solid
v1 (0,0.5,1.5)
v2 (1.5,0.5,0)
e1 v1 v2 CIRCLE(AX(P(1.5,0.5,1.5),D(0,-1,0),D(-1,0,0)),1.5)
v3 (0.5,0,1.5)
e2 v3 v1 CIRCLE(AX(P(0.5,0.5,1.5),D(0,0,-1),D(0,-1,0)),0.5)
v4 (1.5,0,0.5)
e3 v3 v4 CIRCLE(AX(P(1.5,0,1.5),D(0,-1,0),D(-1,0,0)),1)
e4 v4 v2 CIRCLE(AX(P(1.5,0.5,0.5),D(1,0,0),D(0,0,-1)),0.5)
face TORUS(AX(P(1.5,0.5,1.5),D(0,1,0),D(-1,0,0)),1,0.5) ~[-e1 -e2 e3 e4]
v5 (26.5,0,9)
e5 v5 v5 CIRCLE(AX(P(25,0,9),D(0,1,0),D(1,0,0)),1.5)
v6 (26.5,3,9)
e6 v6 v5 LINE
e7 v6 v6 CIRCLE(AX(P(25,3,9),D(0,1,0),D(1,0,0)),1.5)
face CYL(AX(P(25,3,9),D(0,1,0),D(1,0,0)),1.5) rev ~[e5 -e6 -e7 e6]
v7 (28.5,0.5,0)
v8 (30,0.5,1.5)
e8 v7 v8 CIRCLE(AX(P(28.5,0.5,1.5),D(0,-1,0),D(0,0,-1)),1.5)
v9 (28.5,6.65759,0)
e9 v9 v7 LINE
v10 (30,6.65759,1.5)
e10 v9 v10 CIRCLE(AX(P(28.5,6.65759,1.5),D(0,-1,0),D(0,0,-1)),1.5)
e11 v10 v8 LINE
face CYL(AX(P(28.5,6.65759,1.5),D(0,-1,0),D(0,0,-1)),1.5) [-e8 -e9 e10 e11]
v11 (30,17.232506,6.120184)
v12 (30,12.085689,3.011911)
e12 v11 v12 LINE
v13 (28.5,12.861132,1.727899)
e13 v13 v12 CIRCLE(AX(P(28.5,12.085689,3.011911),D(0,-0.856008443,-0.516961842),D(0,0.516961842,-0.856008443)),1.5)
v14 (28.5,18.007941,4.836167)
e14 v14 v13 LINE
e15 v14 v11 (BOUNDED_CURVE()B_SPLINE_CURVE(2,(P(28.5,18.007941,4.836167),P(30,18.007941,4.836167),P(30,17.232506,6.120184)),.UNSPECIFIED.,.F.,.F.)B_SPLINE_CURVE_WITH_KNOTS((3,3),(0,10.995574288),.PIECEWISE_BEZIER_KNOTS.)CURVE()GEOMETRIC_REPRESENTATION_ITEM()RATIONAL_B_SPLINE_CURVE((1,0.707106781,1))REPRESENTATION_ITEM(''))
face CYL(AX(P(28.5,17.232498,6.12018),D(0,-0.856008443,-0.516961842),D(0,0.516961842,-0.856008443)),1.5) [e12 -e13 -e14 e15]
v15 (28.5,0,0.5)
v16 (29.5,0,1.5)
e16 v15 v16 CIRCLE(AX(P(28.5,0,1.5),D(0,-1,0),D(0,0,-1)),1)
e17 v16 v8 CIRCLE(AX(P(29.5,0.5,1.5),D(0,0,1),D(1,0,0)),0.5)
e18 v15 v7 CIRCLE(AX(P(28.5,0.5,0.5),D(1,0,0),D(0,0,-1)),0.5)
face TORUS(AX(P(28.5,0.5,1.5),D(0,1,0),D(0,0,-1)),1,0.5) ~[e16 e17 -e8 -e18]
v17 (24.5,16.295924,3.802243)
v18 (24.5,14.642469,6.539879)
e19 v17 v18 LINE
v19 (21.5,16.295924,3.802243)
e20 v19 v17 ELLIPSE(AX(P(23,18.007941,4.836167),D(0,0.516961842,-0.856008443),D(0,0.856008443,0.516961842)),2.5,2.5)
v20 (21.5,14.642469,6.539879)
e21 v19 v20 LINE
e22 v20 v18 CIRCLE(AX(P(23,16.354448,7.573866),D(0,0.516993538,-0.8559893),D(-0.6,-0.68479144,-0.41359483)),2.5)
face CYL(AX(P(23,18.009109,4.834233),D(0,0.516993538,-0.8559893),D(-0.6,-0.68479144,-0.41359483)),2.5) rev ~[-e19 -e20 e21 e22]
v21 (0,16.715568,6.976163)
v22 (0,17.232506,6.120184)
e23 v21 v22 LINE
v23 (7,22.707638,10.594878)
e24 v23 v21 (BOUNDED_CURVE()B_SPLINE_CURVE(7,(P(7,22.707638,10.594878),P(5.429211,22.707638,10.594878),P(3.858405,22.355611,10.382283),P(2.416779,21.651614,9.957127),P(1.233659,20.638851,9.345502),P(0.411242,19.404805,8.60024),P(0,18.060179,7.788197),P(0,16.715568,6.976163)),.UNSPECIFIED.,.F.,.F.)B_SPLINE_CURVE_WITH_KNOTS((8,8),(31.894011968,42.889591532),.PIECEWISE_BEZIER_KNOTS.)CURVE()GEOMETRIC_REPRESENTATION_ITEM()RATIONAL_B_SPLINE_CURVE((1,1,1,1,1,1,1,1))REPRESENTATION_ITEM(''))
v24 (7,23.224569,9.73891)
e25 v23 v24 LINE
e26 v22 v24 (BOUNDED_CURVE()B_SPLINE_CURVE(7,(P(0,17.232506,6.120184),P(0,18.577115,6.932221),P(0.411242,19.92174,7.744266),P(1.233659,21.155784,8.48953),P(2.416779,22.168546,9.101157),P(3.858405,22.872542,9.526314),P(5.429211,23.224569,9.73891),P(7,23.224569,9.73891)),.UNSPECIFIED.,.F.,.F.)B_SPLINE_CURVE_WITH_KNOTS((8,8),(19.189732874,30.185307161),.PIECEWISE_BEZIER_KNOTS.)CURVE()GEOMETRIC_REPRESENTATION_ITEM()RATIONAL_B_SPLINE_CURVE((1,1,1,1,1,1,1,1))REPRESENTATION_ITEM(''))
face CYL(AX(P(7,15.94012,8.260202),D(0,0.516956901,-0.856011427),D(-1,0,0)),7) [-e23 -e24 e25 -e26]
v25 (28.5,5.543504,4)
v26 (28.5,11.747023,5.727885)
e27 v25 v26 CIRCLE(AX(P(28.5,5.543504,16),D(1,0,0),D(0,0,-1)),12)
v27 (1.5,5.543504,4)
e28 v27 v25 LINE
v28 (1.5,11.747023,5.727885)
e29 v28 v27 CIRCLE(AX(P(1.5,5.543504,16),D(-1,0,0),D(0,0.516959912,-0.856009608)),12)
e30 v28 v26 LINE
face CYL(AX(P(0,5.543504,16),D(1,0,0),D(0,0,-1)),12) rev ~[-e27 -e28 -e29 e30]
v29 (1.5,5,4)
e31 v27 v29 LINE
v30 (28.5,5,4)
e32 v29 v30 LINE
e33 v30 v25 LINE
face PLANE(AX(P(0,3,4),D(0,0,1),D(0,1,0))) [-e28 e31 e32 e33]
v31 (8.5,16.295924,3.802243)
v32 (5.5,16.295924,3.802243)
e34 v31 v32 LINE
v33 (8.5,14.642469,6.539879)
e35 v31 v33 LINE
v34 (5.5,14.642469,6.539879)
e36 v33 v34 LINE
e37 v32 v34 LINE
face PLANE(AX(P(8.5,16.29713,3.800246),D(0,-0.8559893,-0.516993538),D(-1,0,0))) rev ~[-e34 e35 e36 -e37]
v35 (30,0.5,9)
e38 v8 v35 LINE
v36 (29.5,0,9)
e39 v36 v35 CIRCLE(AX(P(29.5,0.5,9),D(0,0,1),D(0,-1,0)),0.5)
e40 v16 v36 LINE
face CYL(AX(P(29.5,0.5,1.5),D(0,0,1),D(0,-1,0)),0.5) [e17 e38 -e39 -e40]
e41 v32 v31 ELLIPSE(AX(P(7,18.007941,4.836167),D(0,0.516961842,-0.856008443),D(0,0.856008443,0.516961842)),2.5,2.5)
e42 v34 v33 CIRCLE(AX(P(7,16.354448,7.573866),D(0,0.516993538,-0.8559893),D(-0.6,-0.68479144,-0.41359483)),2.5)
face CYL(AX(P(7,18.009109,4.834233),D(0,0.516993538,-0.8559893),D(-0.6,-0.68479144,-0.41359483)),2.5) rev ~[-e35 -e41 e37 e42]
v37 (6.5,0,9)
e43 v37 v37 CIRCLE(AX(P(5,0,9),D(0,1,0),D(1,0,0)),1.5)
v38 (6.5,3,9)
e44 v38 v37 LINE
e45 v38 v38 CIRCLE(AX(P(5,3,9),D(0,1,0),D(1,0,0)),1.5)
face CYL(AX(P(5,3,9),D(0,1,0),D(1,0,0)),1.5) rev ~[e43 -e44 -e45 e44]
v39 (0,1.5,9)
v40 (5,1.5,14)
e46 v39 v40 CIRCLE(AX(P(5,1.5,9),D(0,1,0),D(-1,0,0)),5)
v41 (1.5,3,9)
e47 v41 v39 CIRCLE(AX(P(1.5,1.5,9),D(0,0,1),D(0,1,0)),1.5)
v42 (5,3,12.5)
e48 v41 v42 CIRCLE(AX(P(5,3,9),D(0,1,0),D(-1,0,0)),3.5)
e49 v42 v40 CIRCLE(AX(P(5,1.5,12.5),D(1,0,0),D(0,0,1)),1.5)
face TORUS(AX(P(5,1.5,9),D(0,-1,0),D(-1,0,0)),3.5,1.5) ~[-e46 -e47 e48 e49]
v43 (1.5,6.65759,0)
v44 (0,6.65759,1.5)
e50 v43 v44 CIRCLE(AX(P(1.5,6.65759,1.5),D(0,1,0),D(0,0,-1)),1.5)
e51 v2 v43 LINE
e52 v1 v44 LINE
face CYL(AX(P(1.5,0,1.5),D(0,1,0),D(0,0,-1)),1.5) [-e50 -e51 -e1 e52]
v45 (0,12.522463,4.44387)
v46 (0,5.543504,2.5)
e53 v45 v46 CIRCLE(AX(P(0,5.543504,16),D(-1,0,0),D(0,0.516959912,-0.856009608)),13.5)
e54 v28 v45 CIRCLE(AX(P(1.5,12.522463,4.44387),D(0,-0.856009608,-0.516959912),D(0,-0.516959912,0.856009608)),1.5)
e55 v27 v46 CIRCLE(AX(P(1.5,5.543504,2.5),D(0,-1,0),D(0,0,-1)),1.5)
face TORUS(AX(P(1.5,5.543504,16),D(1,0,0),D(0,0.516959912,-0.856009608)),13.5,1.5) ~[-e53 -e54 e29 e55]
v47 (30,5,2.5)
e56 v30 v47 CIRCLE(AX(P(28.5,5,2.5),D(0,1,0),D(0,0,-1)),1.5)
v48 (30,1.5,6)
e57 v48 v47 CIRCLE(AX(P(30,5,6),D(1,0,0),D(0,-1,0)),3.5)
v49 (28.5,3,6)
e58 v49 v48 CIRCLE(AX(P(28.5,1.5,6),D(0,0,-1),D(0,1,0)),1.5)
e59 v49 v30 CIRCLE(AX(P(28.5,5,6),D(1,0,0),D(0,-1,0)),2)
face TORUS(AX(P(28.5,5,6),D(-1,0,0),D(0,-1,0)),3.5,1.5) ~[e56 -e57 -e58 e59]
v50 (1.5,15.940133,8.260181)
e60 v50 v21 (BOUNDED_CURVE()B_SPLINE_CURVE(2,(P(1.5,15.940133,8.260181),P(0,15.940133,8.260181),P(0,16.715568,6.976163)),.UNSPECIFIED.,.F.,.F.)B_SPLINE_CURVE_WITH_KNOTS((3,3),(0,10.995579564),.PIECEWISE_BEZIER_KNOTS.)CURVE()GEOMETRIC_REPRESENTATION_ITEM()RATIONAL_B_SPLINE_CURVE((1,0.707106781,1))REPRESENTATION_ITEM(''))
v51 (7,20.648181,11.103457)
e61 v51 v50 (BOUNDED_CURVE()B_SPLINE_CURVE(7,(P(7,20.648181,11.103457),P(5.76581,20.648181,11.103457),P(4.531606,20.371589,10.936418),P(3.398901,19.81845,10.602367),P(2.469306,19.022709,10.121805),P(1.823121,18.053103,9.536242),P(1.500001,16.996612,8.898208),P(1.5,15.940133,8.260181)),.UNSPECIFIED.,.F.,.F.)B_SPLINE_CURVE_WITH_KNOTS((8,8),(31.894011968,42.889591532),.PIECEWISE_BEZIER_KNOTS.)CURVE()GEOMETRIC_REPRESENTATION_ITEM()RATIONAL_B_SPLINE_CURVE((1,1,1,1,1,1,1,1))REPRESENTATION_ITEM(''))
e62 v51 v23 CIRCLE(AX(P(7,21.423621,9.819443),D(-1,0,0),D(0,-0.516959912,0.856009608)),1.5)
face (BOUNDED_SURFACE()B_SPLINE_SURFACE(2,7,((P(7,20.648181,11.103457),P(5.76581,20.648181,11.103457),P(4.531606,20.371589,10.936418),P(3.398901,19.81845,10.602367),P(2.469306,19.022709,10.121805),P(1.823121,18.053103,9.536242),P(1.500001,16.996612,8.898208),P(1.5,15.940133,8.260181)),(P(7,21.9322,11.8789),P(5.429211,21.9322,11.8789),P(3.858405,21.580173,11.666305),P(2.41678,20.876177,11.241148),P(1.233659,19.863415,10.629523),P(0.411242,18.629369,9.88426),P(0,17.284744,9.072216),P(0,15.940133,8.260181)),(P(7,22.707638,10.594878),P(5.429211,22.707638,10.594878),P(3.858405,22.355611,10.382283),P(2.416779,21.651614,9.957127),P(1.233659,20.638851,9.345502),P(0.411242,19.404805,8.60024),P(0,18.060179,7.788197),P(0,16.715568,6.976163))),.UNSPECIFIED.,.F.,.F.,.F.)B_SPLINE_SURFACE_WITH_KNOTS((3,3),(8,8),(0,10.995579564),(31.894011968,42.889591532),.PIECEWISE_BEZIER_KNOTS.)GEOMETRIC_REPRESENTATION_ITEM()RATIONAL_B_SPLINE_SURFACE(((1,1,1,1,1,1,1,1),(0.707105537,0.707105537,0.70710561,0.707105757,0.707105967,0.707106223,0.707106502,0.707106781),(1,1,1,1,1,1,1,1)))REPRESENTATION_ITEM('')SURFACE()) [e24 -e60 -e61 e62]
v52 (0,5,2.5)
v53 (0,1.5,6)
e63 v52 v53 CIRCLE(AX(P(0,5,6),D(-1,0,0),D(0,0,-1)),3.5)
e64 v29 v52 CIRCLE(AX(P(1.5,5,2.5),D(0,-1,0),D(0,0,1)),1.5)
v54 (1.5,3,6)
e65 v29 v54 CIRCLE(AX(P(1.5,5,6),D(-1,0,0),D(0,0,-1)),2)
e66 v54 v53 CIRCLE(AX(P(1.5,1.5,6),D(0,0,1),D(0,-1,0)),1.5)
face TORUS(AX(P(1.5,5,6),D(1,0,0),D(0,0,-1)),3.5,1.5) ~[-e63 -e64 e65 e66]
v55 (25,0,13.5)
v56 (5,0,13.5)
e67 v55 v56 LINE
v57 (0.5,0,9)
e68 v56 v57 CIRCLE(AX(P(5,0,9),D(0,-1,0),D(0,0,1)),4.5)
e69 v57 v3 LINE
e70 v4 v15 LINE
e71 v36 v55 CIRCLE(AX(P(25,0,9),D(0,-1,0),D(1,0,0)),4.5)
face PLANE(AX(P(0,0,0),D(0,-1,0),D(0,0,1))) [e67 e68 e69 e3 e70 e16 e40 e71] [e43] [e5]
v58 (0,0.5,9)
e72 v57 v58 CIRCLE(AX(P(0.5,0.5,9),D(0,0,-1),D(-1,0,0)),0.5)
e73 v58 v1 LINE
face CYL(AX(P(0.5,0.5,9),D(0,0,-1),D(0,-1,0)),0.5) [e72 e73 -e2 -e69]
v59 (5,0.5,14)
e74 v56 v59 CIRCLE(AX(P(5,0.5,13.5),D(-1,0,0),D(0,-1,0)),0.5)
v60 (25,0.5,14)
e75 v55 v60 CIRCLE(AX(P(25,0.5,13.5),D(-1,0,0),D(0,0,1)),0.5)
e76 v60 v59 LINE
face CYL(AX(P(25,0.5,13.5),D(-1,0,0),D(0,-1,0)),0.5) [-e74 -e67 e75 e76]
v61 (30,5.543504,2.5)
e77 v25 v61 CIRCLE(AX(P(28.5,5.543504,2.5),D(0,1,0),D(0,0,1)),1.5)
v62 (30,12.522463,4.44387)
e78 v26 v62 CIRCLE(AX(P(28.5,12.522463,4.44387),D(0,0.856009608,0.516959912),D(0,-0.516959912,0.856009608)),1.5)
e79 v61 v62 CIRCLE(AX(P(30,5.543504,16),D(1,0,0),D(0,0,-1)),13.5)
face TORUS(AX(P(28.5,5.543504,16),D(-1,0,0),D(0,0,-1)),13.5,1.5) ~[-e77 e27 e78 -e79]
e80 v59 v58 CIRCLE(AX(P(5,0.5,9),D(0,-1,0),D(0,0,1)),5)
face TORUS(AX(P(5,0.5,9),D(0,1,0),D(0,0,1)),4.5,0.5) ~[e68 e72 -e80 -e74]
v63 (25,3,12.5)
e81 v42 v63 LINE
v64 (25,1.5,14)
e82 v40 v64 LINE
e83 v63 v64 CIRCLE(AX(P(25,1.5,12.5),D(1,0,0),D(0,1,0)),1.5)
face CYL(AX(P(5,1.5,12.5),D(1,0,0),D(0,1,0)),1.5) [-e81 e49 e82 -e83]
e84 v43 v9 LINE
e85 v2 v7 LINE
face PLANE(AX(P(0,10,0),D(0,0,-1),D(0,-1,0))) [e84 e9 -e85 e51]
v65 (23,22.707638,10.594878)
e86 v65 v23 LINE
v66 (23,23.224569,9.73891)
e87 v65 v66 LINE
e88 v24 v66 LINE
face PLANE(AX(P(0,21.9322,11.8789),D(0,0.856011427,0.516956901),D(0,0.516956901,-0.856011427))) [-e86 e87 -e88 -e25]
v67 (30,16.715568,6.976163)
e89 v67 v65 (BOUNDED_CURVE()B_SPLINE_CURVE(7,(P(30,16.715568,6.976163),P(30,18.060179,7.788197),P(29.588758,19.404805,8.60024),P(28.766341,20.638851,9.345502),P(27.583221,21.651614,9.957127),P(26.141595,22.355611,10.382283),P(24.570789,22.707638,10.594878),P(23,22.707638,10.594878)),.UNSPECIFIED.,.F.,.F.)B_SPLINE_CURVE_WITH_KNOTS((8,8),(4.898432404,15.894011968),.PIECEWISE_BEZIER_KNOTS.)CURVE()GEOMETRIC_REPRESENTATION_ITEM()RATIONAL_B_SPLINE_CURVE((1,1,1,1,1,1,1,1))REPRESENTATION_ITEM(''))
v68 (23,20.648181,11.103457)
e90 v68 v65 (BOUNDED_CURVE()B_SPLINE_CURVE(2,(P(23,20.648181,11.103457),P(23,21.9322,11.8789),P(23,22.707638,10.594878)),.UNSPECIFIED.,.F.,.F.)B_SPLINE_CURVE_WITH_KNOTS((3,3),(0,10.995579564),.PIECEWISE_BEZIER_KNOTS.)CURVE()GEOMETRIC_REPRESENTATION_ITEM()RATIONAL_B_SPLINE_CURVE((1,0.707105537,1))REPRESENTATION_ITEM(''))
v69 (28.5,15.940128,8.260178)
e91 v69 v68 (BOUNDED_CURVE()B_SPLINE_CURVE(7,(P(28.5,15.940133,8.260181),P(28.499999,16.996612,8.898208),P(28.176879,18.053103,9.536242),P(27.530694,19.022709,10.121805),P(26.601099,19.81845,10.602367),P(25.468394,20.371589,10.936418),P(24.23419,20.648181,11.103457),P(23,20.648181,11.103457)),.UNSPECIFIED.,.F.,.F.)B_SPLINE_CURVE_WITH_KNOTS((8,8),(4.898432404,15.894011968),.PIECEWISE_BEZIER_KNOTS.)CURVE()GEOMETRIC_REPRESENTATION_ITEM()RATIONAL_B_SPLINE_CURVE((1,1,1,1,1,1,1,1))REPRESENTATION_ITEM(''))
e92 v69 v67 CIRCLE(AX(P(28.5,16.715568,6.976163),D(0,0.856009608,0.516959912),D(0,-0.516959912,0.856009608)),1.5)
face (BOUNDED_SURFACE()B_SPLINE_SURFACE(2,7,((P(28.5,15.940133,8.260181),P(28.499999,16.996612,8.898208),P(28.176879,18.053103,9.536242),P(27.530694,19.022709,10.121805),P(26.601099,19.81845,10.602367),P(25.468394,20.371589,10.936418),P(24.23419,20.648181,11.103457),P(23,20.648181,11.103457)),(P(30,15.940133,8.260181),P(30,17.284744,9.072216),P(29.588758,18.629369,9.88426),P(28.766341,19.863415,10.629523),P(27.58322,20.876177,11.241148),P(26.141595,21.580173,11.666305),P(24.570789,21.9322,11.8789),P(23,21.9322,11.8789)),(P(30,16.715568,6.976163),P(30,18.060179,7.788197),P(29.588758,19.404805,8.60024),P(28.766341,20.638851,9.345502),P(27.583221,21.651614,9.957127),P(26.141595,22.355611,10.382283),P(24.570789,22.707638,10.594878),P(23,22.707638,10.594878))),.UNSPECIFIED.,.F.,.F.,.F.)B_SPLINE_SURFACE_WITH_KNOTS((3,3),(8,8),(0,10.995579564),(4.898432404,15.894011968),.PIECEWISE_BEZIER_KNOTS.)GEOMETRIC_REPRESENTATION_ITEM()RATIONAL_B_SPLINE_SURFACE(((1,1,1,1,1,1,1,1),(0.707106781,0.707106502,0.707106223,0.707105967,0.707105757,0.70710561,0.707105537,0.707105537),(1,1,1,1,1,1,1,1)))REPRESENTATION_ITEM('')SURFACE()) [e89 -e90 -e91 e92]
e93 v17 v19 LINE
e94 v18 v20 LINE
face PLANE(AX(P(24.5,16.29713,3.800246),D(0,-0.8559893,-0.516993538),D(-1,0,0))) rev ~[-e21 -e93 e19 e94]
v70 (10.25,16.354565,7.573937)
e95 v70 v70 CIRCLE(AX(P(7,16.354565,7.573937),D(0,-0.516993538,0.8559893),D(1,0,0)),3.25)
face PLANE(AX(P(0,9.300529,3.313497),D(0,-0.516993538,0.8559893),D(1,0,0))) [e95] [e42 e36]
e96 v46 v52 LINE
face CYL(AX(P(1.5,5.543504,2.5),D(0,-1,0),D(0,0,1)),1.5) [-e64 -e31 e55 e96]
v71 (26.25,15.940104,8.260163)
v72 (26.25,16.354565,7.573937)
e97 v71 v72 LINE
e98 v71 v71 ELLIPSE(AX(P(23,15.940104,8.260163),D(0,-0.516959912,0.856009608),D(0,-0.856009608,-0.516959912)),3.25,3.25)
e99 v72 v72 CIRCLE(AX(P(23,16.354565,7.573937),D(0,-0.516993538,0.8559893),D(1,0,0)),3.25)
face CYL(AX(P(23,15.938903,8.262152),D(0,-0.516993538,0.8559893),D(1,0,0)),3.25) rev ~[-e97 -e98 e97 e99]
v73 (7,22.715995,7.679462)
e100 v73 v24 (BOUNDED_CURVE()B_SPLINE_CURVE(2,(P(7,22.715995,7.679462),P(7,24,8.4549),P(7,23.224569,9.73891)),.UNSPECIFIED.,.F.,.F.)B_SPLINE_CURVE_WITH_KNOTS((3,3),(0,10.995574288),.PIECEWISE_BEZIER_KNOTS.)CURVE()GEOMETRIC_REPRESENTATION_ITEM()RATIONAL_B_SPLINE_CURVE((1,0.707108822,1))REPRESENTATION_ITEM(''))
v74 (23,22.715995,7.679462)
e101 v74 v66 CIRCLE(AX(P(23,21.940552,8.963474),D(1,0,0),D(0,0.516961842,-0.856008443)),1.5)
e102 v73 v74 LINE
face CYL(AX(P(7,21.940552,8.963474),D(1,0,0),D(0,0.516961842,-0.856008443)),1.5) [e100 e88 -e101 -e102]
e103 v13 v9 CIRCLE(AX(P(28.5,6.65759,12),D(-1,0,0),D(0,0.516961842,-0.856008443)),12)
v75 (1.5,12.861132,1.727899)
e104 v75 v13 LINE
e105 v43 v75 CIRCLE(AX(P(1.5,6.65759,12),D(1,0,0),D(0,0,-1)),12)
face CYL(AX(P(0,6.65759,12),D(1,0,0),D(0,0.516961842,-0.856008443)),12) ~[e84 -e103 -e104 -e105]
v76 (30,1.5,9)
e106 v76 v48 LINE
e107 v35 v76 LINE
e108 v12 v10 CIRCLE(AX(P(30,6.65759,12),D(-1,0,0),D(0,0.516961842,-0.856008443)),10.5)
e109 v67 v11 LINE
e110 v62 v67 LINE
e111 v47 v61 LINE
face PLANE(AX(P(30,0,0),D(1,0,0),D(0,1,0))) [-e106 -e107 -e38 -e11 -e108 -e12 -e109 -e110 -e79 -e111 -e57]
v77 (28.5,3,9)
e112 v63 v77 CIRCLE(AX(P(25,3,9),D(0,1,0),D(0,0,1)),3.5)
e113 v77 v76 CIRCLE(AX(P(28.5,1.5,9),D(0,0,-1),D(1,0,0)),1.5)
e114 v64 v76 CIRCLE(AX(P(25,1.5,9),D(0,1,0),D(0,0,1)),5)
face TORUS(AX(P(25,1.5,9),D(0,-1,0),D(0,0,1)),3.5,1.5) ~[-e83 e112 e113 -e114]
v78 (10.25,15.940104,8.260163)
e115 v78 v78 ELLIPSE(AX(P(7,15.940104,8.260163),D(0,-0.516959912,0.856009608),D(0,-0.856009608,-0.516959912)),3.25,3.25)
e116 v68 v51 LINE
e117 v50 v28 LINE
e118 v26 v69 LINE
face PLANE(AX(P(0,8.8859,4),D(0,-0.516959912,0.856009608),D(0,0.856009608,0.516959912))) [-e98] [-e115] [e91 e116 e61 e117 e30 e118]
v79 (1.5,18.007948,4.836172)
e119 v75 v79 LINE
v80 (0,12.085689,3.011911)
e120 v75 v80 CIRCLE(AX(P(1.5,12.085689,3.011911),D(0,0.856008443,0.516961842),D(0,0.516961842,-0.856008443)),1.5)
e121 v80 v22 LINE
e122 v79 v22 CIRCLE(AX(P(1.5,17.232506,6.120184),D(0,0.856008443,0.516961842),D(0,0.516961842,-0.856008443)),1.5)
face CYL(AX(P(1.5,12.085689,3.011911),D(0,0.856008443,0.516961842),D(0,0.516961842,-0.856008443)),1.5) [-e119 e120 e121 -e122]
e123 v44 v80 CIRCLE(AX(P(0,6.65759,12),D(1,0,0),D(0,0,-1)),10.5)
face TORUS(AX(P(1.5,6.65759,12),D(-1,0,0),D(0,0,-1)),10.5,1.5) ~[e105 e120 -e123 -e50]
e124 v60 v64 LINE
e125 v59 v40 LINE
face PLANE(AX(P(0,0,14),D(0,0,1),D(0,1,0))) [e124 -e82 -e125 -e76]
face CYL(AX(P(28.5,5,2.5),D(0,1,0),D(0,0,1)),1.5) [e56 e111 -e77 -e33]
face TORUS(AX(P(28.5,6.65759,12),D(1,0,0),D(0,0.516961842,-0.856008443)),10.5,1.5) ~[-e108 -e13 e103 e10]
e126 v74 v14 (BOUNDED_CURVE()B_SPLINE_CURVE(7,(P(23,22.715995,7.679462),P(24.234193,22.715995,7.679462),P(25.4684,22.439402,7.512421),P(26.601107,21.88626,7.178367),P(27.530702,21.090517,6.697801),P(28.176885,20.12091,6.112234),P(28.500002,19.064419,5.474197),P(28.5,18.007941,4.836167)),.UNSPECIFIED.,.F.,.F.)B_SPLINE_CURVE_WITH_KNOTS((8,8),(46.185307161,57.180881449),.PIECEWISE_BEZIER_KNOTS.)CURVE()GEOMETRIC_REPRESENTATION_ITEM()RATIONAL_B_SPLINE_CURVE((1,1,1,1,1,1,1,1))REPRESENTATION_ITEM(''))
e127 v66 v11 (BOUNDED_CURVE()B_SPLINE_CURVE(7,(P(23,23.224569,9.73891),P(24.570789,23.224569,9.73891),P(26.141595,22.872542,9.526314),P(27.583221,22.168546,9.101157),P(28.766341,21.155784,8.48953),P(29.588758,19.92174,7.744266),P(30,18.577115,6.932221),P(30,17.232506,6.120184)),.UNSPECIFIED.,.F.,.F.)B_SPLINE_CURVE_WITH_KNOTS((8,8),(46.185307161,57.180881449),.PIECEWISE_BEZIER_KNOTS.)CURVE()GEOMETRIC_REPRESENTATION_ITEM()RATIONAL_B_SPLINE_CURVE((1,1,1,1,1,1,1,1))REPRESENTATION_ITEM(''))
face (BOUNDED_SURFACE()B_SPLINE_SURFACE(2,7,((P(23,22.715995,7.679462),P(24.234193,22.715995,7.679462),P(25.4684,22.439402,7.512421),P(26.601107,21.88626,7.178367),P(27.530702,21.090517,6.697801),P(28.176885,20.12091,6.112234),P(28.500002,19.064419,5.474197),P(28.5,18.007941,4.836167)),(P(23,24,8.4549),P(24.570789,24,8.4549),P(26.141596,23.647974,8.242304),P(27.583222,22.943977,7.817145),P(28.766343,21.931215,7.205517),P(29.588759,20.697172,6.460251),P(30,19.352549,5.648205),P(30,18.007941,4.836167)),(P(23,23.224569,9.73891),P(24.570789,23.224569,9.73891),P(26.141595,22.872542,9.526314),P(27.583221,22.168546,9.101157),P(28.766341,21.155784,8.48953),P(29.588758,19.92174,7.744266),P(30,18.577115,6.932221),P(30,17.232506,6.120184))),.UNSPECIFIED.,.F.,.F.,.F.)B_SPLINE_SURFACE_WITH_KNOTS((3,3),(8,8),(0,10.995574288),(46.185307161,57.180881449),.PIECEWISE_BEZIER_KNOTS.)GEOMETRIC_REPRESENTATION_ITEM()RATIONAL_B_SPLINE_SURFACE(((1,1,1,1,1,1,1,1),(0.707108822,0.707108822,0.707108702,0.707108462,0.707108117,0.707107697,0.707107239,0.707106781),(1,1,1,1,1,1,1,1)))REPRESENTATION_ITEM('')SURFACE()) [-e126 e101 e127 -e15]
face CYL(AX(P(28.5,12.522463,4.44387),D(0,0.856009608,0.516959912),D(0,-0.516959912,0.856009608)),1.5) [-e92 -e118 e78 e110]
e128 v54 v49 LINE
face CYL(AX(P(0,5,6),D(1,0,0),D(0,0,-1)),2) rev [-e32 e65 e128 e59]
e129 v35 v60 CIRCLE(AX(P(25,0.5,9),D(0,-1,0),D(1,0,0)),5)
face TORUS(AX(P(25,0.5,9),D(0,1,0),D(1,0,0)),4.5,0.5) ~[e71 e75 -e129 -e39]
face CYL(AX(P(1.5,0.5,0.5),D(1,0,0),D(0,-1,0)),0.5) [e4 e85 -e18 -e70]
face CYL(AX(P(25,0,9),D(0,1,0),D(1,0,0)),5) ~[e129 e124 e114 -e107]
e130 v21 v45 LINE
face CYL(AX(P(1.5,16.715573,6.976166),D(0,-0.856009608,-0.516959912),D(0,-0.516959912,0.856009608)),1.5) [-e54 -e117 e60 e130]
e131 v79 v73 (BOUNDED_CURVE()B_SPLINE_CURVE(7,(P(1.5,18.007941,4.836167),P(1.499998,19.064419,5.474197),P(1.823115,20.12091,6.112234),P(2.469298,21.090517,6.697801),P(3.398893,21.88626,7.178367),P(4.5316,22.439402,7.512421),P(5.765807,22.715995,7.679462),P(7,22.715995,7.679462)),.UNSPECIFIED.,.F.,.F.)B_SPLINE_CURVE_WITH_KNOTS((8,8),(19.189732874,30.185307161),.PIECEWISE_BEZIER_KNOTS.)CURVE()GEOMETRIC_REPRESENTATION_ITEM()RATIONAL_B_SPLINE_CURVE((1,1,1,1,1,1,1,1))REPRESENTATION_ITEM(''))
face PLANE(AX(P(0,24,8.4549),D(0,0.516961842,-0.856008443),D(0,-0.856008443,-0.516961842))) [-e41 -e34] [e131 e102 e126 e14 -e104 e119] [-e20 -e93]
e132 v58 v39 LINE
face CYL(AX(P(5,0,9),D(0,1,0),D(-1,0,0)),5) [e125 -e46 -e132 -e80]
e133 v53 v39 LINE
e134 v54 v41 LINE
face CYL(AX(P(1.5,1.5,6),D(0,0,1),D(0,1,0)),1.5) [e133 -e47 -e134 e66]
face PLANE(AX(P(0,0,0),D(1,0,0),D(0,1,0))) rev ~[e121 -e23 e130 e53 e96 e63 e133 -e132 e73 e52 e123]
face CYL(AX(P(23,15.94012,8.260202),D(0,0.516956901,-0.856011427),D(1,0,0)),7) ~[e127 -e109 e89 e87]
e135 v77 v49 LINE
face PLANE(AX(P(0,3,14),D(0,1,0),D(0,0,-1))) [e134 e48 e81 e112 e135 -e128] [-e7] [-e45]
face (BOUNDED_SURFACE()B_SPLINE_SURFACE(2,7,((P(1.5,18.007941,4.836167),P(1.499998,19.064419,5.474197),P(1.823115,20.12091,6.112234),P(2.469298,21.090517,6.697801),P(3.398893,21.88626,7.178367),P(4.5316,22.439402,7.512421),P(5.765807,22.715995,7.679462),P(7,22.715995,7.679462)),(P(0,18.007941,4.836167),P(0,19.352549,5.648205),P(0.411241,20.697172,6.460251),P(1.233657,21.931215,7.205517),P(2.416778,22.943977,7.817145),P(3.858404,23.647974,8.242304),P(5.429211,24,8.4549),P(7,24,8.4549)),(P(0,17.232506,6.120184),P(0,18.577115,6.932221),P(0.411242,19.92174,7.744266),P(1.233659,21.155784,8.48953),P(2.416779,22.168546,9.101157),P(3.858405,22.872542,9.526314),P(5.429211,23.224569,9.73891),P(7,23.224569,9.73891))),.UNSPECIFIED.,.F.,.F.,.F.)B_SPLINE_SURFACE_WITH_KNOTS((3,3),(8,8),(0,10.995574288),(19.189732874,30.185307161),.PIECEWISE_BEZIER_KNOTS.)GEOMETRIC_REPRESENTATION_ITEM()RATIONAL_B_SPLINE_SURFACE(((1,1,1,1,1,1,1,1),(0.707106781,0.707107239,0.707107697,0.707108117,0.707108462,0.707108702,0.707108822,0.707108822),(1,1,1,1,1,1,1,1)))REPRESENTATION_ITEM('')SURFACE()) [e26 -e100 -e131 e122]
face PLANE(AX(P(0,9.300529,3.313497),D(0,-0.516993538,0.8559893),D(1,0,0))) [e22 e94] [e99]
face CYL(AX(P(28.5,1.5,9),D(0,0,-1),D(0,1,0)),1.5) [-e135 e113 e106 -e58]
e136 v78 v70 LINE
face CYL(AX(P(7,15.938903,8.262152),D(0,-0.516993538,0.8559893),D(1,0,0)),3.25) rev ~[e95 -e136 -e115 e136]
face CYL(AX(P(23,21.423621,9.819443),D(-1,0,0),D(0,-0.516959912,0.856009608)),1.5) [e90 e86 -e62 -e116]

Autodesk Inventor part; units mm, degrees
ref_plane "YZ Plane" through (0, 0, 0) normal (1, 0, 0) x (0, 1, 0)
ref_plane "XZ Plane" through (0, 0, 0) normal (0, 1, 0) x (-1, 0, 0)
ref_plane "XY Plane" through (0, 0, 0) normal (0, 0, 1) x (1, 0, 0)
sketch "Sketch5" plane through (0, 0, 0) normal (1, 0, 0) x (0, 1, 0)
  line L0 (0, 0) -> (0, 14)
  line L1 (0, 14) -> (3, 14)
  line L2 (3, 14) -> (3, 4)
  line L3 (3, 4) -> (8.8859, 4)
  line L4 (8.8859, 4) -> (21.9322, 11.8789)
  line L5 (21.9322, 11.8789) -> (24, 8.4549)
  line L6 (24, 8.4549) -> (10, 0)
  line L7 (10, 0) -> (0, 0)
  dimension "d31" = 3
  dimension "d32" = 4
  dimension "d33" = 4
  dimension "d34" = 14
  dimension "d35" = 10
  dimension "d36" = 10
extrude "Extrusion4" add sketch "Sketch5" along normal blind 30
sketch "Sketch6" plane through (0, 3, 14) normal (0, 1, 0) x (1, 0, 0)
  circle A0 centre (5, 5) radius 1.5
  circle A1 centre (25, 5) radius 1.5
  line L0 (30, 10) -> (30, 0) projected
  line L1 (0, 0) -> (30, 0) projected
  line L2 (0, 0) -> (0, 10) projected
  point P0 (0, 14)
  dimension "d39" = 3
  dimension "d40" = 3
  dimension "d41" = 5
  dimension "d42" = 5
  dimension "d43" = 5
  dimension "d44" = 5
extrude "Extrusion5" cut sketch "Sketch6" against normal blind 30
fillet "Fillet5" radius 5 2 edges at (0, 1.5, 14) (30, 1.5, 14)
sketch "Sketch7" plane through (30, 24, 8.4549) normal (0, 0.517, -0.856) x (-1, 0, 0)
  arc A0 (8.5, -9) -> (5.5, -9) centre (7, -7) ccw
  arc A1 (24.5, -9) -> (21.5, -9) centre (23, -7) ccw
  line L0 (30, 0) -> (30, -16.355) projected
  line L1 (30, 0) -> (0, 0) projected
  line L2 (0, -16.355) -> (0, 0) projected
  line L3 (5.5, -9) -> (8.5, -9)
  line L4 (21.5, -9) -> (24.5, -9)
  point P0 (30, -24.9151)
  dimension "d48" = 5
  dimension "d49" = 5
  dimension "d50" = 7
  dimension "d51" = 7
  dimension "d52" = 7
  dimension "d53" = 7
  dimension "d54" = 4.5
extrude "Extrusion6" cut sketch "Sketch7" against normal blind 30
fillet "Fillet6" radius 7 2 edges at (0, 22.9661, 10.1669) (30, 22.9661, 10.1669)
sketch "Sketch8" plane through (0, 8.8859, 4) normal (0, -0.517, 0.856) x (1, 0, 0)
  arc A0 (8.5, 6.2408) -> (5.5, 6.2408) centre (7, 8.2408) ccw projected
  circle A1 centre (7, 8.2408) radius 3.25
  arc A2 (24.5, 6.2408) -> (21.5, 6.2408) centre (23, 8.2408) ccw projected
  circle A3 centre (23, 8.2408) radius 3.25
  point P0 (0, -9.6742)
  dimension "d58" = 6.5
  dimension "d59" = 6.5
extrude "Extrusion7" cut sketch "Sketch8" against normal blind 0.8
fillet "Fillet7" radius 2 1 edges at (15, 3, 4)
fillet "Fillet8" radius 12 2 edges at (15, 8.8859, 4) (15, 10, 0)
fillet "Fillet9" radius 1.5 9 edges at (15, 24, 8.4549) (2.0503, 22.245, 7.395) (0, 15.4345, 3.282) (0, 9.8774, 0.44) (0, 3.3288, 0) (30, 15.4345, 3.282) (30, 9.8774, 0.44) (30, 3.3288, 0) (27.9497, 22.245, 7.395)
fillet "Fillet10" radius 1.5 14 edges at (30, 13.8435, 6.9941) (27.9497, 20.1771, 10.819) (15, 21.9322, 11.8789) (2.0503, 20.1771, 10.819) (0, 13.8435, 6.9941) (0, 8.7633, 4.44) (0, 5.2717, 4) (0, 3, 7.5) (1.4645, 3, 12.5355) (15, 3, 14) (28.5355, 3, 12.5355) (30, 3, 7.5) (30, 5.2717, 4) (30, 8.7633, 4.44)
fillet "Fillet11" radius 0.5 8 edges at (29.5607, 0, 0.4393) (15, 0, 0) (0.4393, 0, 0.4393) (0, 0, 5.25) (1.4645, 0, 12.5355) (15, 0, 14) (28.5355, 0, 12.5355) (30, 0, 5.25)
properties part number "SwitchMount"
